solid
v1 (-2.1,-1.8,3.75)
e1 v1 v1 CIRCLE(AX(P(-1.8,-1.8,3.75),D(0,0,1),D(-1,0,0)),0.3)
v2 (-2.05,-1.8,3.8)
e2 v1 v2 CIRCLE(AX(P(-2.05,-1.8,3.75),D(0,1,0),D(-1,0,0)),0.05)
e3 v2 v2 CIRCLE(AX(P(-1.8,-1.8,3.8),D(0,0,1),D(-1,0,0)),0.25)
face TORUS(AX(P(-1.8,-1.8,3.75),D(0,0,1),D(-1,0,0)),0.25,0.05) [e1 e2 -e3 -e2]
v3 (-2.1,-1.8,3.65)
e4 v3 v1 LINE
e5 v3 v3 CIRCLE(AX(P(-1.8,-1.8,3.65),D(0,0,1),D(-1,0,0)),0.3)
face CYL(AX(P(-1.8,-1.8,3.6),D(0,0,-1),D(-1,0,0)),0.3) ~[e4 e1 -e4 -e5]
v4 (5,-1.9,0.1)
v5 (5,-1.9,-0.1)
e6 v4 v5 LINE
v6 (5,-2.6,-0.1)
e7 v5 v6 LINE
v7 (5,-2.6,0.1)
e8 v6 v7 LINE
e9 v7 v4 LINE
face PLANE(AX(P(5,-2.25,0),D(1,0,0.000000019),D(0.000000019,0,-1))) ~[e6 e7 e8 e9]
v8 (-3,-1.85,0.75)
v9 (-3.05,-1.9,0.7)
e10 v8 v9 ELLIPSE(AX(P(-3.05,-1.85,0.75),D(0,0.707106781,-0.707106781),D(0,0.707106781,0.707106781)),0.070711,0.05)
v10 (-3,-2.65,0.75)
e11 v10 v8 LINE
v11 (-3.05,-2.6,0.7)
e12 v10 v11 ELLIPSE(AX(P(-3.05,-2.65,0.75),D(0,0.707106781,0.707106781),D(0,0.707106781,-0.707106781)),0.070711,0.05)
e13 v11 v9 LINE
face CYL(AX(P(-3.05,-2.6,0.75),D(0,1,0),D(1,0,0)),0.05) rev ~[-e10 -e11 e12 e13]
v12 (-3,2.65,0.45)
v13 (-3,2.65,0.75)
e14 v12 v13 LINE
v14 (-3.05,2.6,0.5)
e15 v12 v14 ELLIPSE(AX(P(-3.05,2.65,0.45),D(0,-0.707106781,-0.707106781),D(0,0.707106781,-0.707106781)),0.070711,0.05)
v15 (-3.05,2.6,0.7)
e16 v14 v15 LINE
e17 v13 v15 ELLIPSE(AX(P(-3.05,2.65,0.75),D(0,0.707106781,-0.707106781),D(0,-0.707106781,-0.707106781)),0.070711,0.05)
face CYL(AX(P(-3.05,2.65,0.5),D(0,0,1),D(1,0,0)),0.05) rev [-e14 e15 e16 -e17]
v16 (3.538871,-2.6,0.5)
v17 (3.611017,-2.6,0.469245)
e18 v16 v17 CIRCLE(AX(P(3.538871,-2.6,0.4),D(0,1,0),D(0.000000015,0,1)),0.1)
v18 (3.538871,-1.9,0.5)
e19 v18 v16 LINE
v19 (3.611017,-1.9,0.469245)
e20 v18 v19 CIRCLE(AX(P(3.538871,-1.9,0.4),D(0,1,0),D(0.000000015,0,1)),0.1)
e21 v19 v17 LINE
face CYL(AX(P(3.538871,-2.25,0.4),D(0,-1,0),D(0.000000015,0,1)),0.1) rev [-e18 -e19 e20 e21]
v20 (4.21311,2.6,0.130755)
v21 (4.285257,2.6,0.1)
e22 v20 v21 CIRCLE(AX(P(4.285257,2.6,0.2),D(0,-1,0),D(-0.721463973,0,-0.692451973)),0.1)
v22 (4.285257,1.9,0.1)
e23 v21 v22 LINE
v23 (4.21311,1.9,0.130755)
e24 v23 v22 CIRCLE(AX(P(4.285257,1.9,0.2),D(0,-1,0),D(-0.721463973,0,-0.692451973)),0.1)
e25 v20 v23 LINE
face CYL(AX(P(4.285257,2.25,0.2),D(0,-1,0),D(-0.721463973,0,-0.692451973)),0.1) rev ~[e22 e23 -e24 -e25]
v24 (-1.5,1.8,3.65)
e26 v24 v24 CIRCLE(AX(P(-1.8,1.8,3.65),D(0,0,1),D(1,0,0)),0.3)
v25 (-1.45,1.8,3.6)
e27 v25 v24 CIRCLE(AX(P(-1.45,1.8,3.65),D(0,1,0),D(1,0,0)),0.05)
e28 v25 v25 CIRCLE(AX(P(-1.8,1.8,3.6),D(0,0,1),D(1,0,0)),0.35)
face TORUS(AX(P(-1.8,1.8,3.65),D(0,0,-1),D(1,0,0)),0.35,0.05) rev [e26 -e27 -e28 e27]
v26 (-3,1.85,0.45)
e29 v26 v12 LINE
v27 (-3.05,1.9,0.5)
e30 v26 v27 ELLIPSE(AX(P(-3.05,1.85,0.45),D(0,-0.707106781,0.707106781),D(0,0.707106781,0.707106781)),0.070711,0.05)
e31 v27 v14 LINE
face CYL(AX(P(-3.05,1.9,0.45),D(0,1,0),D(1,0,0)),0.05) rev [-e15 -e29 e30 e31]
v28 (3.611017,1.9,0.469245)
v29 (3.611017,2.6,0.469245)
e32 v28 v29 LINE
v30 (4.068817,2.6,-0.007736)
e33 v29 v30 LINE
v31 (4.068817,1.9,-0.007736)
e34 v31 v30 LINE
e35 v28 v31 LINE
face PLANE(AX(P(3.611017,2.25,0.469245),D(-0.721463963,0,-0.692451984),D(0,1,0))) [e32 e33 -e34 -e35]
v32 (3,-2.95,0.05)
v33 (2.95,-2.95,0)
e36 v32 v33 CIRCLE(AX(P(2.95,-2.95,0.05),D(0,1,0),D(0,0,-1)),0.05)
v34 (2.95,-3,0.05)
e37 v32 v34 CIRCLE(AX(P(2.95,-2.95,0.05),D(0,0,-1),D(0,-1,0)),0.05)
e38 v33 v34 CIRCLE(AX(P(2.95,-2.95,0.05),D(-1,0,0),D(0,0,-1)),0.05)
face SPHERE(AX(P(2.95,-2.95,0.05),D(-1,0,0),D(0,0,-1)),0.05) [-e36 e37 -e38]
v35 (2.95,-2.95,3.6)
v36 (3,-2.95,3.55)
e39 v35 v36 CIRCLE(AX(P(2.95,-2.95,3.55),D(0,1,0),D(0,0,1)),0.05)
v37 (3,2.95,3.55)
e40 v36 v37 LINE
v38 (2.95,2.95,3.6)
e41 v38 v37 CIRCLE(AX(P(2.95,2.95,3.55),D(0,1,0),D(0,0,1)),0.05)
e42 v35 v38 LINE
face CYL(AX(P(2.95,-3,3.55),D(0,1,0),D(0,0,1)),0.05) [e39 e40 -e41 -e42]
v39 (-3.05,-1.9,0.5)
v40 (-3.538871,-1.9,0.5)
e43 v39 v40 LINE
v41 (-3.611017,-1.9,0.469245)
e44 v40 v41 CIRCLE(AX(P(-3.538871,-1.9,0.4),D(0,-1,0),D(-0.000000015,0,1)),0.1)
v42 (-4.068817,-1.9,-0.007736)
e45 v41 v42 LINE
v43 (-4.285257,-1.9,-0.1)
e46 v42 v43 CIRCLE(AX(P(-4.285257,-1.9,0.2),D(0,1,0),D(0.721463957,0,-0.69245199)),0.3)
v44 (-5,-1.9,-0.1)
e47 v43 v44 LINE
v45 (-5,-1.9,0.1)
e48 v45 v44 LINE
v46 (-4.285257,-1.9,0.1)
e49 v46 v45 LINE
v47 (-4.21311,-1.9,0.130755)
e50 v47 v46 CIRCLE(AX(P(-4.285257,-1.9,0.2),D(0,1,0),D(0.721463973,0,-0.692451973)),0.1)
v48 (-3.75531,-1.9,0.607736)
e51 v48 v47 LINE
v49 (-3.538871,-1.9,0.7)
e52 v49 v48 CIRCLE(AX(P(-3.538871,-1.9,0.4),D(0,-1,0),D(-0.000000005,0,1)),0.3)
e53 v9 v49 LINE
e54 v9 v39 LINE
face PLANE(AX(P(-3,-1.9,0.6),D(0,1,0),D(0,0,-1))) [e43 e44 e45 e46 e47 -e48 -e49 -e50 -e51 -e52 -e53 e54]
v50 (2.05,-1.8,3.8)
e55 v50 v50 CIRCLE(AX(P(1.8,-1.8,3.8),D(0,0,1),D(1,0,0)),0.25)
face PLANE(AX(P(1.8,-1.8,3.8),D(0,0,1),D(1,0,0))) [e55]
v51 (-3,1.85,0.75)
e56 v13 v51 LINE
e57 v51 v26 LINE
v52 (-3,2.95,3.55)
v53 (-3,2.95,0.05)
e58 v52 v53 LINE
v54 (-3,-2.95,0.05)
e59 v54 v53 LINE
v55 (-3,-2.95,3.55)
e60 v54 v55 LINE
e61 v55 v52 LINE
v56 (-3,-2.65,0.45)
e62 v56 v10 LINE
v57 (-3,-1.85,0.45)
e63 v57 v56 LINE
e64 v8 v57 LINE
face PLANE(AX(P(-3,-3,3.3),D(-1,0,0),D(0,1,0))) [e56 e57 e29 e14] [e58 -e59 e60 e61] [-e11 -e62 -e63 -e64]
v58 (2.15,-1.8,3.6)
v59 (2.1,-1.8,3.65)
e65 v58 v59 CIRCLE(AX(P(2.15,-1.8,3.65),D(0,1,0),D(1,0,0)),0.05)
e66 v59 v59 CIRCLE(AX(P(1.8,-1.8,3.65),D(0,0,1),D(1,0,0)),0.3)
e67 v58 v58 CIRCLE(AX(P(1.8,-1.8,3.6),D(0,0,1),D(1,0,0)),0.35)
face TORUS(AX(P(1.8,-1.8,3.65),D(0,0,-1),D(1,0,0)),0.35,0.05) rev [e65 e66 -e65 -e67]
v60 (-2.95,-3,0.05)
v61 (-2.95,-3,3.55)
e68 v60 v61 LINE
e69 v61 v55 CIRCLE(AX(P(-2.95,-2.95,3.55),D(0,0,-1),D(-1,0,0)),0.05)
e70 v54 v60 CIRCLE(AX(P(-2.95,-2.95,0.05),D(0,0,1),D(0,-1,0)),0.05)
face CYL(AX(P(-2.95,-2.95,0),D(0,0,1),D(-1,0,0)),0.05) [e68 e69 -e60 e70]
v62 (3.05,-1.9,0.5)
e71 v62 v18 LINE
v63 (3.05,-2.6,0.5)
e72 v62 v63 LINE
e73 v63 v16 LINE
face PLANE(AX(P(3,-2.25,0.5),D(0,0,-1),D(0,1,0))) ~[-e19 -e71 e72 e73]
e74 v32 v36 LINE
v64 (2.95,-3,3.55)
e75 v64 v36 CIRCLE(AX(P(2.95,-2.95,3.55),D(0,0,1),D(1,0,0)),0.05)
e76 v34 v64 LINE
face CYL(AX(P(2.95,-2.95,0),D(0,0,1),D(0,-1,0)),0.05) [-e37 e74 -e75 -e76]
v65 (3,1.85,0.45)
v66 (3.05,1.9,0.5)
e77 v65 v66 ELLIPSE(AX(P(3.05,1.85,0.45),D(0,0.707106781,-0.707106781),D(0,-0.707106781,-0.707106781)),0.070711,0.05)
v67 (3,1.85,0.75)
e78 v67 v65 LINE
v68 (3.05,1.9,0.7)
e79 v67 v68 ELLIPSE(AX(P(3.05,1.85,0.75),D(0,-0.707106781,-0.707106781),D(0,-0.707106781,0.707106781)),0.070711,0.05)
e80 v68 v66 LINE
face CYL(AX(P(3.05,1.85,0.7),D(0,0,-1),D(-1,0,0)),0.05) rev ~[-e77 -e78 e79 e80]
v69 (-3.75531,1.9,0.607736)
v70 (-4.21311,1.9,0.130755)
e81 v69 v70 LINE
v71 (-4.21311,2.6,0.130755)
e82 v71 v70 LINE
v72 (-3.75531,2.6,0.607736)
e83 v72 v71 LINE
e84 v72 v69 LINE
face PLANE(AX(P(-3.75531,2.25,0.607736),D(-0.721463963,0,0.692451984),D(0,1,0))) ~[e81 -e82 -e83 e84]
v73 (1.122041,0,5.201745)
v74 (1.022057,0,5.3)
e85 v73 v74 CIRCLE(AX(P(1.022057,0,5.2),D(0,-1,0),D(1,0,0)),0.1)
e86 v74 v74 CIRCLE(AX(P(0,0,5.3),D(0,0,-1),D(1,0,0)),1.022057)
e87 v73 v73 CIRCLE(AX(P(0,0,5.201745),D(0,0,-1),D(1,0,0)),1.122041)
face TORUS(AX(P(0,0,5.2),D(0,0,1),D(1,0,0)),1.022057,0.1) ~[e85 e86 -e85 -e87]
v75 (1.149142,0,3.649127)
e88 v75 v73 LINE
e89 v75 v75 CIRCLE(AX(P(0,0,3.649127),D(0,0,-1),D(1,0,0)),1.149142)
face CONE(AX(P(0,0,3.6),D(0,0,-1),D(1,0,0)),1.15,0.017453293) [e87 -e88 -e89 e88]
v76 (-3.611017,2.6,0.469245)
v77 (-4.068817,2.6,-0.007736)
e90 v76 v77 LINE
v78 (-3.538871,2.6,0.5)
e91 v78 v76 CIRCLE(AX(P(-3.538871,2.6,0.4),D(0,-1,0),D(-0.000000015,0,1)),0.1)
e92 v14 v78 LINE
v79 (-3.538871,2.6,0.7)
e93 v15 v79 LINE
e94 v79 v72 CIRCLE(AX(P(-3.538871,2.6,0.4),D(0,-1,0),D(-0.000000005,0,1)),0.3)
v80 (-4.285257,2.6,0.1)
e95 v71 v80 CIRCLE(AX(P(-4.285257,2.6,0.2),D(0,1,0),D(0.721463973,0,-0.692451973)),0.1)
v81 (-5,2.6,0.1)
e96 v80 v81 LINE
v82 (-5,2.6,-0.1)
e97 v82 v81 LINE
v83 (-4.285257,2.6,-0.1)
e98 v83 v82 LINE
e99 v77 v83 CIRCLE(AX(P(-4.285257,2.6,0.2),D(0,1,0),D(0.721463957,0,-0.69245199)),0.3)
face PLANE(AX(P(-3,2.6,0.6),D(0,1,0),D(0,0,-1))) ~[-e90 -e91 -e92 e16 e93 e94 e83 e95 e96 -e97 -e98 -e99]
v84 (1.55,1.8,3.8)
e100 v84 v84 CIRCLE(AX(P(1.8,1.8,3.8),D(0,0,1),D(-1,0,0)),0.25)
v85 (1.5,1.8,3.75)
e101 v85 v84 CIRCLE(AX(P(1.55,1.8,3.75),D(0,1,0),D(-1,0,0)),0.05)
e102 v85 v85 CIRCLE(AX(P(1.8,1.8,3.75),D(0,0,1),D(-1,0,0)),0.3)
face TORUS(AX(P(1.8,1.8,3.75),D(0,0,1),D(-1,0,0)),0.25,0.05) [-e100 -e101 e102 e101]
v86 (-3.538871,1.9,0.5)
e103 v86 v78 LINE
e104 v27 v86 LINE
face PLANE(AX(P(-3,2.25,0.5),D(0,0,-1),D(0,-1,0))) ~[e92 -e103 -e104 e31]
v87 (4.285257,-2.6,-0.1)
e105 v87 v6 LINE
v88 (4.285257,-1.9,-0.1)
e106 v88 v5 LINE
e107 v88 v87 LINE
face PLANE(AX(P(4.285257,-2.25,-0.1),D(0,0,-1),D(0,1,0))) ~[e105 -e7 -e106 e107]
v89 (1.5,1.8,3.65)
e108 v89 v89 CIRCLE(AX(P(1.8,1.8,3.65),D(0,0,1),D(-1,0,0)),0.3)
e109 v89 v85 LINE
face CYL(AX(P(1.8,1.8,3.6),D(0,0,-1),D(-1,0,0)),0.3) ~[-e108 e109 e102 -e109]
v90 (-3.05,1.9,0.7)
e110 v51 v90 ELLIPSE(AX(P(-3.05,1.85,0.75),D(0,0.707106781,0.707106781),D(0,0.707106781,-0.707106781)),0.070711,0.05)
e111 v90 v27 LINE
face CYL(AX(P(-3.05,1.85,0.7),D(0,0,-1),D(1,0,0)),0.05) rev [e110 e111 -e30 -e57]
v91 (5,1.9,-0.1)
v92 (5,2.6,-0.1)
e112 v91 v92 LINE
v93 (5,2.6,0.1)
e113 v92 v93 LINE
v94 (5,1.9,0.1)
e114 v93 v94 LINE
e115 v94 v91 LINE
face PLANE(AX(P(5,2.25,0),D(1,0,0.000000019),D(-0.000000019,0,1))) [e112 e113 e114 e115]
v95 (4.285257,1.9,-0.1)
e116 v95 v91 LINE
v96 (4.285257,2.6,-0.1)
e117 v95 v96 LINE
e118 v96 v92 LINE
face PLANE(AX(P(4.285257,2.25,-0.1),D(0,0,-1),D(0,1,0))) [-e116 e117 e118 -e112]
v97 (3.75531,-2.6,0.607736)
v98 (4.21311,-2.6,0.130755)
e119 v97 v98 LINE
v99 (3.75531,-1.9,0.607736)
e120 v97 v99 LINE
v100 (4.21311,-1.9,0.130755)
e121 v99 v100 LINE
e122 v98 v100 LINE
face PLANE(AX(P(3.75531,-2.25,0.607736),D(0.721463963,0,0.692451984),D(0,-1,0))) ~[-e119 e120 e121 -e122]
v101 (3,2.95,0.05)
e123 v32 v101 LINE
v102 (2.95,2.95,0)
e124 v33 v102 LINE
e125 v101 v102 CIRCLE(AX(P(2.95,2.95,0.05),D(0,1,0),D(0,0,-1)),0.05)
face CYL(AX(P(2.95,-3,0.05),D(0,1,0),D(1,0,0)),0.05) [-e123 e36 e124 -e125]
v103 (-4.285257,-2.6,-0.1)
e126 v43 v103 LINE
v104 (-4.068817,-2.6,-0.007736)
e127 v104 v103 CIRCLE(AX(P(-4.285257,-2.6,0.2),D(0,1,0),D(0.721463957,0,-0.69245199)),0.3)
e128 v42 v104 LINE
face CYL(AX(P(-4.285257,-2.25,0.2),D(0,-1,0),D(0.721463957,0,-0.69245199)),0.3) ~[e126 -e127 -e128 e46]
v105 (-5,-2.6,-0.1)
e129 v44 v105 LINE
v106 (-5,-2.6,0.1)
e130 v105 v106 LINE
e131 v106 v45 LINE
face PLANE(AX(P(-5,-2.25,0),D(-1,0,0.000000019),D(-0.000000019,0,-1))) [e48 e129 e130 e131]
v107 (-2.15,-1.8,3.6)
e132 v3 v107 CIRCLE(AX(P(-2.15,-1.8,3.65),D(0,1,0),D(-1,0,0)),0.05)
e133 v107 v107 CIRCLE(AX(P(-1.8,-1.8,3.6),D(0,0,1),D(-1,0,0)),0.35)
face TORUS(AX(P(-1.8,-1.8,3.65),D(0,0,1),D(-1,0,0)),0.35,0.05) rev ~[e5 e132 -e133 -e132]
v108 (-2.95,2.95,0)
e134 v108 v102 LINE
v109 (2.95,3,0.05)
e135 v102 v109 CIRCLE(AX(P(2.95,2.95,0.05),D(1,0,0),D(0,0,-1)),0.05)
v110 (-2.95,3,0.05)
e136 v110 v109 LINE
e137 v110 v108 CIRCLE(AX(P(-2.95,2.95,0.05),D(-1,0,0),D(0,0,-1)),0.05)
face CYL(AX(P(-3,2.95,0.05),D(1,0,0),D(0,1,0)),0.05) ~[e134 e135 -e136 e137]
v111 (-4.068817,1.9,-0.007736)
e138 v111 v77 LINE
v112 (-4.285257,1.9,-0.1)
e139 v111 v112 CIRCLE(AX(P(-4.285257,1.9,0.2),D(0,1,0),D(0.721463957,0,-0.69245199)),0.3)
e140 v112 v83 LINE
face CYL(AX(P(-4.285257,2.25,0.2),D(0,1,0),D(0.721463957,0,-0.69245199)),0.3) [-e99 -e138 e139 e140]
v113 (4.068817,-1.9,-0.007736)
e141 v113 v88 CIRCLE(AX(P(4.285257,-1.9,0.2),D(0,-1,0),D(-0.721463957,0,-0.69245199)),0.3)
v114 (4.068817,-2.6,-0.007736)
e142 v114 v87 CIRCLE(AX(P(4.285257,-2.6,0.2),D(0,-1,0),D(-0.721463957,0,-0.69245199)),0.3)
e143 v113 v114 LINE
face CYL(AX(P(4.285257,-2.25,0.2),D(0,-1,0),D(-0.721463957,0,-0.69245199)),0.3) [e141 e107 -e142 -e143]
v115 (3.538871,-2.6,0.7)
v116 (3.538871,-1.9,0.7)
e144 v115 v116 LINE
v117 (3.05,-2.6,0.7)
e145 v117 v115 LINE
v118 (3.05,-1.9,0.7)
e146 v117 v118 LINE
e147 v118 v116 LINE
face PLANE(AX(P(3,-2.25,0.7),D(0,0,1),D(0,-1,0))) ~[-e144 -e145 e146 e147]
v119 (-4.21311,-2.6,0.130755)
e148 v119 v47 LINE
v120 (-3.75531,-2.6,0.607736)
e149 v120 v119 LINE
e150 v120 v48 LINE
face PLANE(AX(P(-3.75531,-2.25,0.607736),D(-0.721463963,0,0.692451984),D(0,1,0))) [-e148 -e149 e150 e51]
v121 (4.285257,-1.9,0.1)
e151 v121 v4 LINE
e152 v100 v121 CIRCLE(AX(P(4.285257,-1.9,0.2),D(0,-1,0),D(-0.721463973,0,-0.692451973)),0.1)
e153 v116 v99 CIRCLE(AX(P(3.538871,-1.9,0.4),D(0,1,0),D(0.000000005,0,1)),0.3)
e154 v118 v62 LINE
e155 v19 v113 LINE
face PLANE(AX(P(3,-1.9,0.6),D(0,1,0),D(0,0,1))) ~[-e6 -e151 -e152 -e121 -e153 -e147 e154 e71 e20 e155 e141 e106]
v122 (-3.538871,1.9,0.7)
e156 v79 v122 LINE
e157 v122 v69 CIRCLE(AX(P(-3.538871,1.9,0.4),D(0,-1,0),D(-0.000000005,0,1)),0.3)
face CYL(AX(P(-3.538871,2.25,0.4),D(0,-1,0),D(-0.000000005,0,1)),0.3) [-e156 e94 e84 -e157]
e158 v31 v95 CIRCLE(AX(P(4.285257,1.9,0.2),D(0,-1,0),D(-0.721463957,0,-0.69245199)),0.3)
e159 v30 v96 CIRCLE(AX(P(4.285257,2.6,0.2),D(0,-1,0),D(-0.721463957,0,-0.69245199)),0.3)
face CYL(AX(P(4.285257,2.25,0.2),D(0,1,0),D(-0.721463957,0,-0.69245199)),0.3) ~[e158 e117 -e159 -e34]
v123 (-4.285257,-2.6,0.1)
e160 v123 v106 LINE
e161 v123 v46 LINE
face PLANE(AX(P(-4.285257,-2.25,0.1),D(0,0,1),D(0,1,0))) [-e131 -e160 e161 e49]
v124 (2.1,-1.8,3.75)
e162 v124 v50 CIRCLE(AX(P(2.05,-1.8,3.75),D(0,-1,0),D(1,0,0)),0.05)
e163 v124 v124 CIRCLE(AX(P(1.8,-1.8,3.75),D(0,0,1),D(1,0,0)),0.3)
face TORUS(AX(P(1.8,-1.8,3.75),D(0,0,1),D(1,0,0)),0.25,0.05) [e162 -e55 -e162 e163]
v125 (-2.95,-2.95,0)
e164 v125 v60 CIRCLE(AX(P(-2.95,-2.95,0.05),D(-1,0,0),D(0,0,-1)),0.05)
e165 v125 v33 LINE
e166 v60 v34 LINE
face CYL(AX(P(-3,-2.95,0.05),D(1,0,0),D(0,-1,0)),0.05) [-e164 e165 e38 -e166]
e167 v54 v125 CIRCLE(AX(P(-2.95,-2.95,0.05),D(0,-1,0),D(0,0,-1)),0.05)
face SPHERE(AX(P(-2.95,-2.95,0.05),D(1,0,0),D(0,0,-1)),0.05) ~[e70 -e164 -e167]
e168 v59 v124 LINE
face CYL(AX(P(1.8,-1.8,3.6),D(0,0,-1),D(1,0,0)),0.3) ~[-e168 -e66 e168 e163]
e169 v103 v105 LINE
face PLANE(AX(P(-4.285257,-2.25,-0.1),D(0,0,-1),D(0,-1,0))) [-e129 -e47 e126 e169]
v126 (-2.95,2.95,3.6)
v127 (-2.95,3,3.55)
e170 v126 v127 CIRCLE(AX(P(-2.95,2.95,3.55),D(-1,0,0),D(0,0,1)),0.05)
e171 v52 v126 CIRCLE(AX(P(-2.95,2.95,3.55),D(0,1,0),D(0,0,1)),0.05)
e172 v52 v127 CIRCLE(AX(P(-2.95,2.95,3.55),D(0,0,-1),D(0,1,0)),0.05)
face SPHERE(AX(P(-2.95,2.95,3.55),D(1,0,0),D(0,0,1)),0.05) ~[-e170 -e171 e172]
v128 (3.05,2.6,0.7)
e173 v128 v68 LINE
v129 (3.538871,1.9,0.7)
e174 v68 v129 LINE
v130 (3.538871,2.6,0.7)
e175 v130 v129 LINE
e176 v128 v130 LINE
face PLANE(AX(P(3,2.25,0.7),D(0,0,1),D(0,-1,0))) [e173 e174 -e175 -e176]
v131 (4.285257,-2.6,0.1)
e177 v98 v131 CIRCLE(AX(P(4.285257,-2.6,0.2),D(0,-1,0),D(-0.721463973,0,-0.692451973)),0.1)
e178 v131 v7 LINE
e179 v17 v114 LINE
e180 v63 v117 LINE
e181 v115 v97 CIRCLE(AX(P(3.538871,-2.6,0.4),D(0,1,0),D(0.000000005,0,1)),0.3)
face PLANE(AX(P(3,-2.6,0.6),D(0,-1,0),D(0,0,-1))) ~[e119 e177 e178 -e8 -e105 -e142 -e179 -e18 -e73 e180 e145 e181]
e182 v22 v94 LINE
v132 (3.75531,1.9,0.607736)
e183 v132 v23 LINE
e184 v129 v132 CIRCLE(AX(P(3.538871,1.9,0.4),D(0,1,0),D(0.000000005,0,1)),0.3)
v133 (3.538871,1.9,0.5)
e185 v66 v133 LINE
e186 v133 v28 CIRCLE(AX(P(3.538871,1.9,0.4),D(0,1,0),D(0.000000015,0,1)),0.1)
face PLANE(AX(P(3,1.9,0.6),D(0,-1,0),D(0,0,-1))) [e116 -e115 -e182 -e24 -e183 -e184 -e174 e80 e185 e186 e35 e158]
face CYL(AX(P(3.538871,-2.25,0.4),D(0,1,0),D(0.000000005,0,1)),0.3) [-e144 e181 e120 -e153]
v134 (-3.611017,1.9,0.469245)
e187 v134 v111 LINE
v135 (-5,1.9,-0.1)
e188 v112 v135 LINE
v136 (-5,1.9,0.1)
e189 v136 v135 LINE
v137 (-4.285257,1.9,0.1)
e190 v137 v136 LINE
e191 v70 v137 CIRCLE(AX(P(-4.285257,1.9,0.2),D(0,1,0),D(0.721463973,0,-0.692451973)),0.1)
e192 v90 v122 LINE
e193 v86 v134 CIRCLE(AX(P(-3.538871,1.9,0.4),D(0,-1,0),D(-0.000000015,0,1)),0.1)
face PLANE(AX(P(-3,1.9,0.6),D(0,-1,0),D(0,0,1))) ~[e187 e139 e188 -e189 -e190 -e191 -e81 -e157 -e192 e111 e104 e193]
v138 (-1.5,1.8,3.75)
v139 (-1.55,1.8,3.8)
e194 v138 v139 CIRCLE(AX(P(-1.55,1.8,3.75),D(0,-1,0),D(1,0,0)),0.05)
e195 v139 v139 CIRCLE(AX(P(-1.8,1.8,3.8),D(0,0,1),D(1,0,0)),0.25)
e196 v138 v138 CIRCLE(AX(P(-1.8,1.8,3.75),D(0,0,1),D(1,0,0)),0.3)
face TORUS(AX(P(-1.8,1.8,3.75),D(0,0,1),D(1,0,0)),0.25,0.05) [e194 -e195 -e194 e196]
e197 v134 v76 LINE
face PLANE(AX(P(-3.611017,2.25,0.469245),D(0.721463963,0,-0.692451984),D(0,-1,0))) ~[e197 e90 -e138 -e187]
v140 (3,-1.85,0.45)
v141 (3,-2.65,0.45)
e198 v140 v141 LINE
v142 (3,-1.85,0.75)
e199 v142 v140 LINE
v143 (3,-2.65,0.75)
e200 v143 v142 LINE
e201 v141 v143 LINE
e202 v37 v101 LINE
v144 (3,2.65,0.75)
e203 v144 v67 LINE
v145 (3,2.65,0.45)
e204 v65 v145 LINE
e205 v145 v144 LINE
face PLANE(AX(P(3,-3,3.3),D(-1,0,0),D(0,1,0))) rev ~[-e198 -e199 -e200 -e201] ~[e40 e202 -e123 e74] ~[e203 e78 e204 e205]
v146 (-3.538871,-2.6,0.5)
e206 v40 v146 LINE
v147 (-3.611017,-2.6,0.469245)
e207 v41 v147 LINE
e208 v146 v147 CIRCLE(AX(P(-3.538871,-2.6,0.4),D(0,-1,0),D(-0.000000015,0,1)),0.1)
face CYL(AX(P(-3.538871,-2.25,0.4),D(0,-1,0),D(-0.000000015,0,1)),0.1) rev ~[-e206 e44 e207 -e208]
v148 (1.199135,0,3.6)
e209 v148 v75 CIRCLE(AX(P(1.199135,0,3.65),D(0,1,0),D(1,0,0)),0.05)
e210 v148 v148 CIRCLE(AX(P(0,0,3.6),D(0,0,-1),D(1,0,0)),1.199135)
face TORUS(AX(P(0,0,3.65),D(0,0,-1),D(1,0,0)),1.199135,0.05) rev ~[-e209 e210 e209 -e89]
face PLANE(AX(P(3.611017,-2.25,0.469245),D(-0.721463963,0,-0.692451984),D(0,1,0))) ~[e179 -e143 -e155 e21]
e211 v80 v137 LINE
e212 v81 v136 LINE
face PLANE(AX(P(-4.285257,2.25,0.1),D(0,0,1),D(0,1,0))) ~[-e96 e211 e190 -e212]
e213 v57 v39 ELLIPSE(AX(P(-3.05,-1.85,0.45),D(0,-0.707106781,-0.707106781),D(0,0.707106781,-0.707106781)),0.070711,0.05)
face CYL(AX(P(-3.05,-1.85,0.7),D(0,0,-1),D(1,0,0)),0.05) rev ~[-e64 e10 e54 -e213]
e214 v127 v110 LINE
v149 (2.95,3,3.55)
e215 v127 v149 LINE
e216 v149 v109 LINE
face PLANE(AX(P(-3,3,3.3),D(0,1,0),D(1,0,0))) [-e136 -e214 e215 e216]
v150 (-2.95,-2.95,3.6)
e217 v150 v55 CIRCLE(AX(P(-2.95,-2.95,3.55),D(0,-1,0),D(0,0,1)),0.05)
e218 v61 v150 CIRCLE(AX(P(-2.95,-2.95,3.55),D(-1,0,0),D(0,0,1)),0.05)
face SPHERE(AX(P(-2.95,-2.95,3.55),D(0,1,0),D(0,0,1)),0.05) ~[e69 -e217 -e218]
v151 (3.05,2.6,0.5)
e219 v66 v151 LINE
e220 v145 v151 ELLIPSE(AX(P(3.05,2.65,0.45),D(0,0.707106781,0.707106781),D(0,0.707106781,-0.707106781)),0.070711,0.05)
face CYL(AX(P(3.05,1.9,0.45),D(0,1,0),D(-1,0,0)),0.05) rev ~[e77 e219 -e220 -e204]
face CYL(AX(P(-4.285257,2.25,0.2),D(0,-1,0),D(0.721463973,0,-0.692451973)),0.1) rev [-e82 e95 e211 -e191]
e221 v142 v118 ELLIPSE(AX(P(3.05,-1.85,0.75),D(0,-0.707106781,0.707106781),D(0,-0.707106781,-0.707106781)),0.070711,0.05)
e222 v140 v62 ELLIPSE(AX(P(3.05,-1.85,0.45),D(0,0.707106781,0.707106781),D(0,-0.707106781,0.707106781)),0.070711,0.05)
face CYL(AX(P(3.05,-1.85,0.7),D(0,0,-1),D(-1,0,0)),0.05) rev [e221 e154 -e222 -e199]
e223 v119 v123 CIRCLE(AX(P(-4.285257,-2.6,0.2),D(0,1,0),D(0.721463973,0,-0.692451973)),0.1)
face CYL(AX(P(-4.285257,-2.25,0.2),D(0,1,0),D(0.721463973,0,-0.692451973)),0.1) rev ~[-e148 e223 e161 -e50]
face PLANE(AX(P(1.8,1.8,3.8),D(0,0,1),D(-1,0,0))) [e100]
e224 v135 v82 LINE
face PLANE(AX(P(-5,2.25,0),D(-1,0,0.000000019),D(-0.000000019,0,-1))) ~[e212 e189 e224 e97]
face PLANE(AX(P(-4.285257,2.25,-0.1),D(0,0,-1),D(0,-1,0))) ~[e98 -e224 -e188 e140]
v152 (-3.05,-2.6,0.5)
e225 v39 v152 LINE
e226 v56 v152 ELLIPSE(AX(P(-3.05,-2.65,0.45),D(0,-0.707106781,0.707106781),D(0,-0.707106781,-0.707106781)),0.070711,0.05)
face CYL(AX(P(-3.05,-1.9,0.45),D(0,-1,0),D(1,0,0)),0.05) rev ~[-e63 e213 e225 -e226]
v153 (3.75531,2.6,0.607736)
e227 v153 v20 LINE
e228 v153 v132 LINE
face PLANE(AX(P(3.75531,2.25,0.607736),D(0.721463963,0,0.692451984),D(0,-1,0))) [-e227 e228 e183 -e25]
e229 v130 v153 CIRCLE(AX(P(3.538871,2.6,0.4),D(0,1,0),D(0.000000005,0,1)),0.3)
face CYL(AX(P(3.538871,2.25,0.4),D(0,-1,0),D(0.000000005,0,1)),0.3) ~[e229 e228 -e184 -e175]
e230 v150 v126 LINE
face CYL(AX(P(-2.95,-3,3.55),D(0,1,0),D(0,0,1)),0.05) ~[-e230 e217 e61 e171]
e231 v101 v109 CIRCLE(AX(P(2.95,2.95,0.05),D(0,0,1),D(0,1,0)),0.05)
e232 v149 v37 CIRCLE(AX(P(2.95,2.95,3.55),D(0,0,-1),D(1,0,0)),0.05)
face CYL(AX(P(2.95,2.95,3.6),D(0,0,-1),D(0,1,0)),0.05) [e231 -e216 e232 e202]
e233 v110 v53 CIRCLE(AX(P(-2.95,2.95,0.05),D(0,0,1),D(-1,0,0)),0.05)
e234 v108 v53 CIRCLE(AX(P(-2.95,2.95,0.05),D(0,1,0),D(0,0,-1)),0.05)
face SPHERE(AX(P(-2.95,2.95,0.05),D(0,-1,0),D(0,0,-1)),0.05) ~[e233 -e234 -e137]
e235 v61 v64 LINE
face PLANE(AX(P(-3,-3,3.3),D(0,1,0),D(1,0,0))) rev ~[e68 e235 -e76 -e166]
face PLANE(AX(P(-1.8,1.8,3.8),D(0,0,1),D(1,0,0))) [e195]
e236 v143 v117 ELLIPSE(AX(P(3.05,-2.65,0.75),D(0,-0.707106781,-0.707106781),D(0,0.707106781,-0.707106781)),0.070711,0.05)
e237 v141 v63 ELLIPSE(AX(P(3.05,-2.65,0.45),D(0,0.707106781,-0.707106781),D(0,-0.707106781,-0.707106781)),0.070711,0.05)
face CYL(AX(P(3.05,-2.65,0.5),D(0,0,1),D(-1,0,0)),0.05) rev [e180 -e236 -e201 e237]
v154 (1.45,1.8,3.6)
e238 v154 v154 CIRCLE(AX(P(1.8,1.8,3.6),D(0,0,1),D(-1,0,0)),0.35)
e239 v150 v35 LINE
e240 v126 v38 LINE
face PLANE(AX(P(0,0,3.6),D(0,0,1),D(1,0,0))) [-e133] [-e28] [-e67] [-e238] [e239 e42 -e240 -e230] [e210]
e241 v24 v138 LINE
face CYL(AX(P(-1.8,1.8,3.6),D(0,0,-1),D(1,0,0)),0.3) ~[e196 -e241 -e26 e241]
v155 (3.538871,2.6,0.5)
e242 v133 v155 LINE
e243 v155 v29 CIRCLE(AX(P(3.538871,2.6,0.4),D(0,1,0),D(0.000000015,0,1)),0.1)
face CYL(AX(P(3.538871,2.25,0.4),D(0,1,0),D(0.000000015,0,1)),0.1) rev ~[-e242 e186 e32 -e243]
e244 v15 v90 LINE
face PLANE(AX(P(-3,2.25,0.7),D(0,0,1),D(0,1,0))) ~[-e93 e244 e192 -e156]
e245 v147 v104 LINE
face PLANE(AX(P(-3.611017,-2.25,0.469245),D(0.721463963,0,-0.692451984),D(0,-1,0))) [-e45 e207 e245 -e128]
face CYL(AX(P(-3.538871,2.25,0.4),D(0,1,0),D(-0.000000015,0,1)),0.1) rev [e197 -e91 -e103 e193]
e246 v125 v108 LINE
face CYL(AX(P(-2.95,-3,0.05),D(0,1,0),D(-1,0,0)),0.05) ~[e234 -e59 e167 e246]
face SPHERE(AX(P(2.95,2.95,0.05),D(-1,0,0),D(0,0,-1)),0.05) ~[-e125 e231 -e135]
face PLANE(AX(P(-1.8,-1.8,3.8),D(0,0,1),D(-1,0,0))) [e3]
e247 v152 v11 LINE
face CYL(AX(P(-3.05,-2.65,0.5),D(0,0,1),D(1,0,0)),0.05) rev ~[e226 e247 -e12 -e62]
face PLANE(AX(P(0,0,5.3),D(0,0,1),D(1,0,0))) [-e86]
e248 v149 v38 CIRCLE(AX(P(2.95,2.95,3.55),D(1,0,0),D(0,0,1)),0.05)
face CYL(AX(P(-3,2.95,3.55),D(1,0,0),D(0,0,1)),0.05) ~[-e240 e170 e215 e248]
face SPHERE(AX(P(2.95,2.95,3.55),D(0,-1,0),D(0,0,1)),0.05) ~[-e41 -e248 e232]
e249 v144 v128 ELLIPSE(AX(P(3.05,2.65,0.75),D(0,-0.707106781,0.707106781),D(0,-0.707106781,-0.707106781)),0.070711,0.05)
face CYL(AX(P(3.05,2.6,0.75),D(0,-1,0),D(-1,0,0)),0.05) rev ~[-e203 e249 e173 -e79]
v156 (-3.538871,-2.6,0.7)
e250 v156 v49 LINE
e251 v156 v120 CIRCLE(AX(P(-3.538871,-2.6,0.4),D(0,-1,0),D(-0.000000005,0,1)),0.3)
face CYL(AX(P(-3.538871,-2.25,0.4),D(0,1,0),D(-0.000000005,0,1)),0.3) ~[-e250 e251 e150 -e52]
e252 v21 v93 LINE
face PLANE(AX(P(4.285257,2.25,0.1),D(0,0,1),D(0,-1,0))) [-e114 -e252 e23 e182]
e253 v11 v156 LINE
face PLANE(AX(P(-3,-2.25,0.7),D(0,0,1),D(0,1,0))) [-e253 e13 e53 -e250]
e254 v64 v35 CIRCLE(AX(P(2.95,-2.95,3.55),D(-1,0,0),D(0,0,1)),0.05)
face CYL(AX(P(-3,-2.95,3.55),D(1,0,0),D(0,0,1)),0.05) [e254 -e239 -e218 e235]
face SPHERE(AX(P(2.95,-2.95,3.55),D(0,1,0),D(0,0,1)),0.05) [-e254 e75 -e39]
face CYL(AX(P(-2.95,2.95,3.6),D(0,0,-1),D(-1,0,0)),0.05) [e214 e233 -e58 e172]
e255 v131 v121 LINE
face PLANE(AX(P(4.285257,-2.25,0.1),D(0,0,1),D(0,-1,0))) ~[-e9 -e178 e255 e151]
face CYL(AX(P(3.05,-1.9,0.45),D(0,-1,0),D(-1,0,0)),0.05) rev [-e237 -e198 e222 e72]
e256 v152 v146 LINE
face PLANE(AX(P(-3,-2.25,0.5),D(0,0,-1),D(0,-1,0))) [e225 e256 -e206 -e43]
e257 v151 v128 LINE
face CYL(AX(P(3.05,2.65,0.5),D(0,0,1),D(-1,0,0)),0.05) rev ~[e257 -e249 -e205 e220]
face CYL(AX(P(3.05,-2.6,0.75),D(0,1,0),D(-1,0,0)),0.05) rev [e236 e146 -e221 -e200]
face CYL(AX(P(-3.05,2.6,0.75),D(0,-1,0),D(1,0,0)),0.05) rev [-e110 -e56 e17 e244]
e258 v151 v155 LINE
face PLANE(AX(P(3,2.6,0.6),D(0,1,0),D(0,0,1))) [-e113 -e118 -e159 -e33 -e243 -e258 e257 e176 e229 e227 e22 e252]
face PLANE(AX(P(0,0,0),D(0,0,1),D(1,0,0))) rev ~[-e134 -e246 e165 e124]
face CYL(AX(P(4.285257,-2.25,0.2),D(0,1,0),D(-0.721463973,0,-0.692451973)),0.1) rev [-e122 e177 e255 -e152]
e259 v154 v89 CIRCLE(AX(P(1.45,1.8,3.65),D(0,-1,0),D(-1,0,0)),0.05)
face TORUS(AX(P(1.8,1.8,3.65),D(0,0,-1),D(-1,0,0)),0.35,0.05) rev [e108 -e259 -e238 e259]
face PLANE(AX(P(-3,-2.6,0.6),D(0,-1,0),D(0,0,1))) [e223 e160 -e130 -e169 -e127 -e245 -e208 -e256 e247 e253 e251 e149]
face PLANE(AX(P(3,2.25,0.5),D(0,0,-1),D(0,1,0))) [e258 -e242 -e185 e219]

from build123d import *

# Parameters (mm, degrees)
SKETCH1_W               = 6
SKETCH1_H               = 6
BOSS_EXTRUDE1_DEPTH     = 3.3
SKETCH2_W               = 6
SKETCH2_H               = 6
BOSS_EXTRUDE2_DEPTH     = 0.3
SKETCH3_R               = 0.3
BOSS_EXTRUDE3_DEPTH     = 0.2
SKETCH4_R               = 1.15
BOSS_EXTRUDE4_DEPTH     = 1.7
BOSS_EXTRUDE4_TAPER     = 1
SKETCH6_W               = 0.2
SKETCH6_H               = 0.7
MIRROR2_COPY_1_SKETCH_W = 0.2
MIRROR2_COPY_1_SKETCH_H = 0.7
FILLET1_R               = 0.1
FILLET2_R               = 0.05
FILLET3_R               = 0.05


with BuildPart() as part:
    # Sketch1 → Boss-Extrude1 (new body)
    with BuildSketch(Plane.XY):
        Rectangle(SKETCH1_W, SKETCH1_H)
    extrude(amount=BOSS_EXTRUDE1_DEPTH)

    # Sketch2 → Boss-Extrude2 (add)
    with BuildSketch(Plane.XY.offset(3.3)):
        Rectangle(SKETCH2_W, SKETCH2_H)
    extrude(amount=BOSS_EXTRUDE2_DEPTH)

    # Sketch3 → Boss-Extrude3 (add)
    with BuildSketch(Plane.XY.offset(3.6)):
        with Locations((-1.8, 1.8)):
            Circle(SKETCH3_R)
        with Locations(Location((1.8, 1.8, 0), (0, 0, 180))):
            Circle(SKETCH3_R)
        with Locations((1.8, -1.8)):
            Circle(SKETCH3_R)
        with Locations(Location((-1.8, -1.8, 0), (0, 0, 180))):
            Circle(SKETCH3_R)
    extrude(amount=BOSS_EXTRUDE3_DEPTH)

    # Sketch4 → Boss-Extrude4 (add)
    with BuildSketch(Plane.XY.offset(3.6)):
        Circle(SKETCH4_R)
    extrude(amount=BOSS_EXTRUDE4_DEPTH, taper=BOSS_EXTRUDE4_TAPER)

    # Sweep4: sweep along a path in Sketch5
    with BuildLine(Plane(origin=(0, 0, 0), x_dir=(1, 0, 0), z_dir=(0, 1, 0))) as sweep4_path:
        Line((3, -0.6), (3.538870936, -0.6))
        ThreePointArc((3.538870936, -0.6), (3.617298994, -0.583981085), (3.683163729, -0.538490397))
        Line((3.683163729, -0.538490397), (4.140963861, -0.061509603))
        ThreePointArc((4.140963861, -0.061509603), (4.206828595, -0.016018915), (4.285256654, 0))
        Line((4.285256654, 0), (5, 0))
    # Sketch6 → Sweep4 (sweep)
    with BuildSketch(Plane(origin=(3, 0, 0), x_dir=(0, 0, -1), z_dir=(1, 0, 0))):
        with Locations((-0.6, 2.25)):
            Rectangle(SKETCH6_W, SKETCH6_H)
    sweep4 = sweep(path=sweep4_path.line)

    # Mirror1: Sweep4 across plane
    add(sweep4.mirror(Plane.ZX))

    # Mirror2: Sweep4 across plane
    add(sweep4.mirror(Plane(origin=(0, 0, 0), x_dir=(0, 0, 1), z_dir=(1, 0, 0))))

    # Mirror2 copy 1: sweep along a path in Mirror2 copy 1 path
    with BuildLine(Plane(origin=(0, 0, 0), x_dir=(-1, 0, 0), z_dir=(0, -1, 0))) as mirror2_copy_1_path:
        Line((3, -0.6), (3.538870936, -0.6))
        ThreePointArc((3.538870936, -0.6), (3.617298994, -0.583981085), (3.683163729, -0.538490397))
        Line((3.683163729, -0.538490397), (4.140963861, -0.061509603))
        ThreePointArc((4.140963861, -0.061509603), (4.206828595, -0.016018915), (4.285256654, 0))
        Line((4.285256654, 0), (5, 0))
    # Mirror2 copy 1 sketch → Mirror2 copy 1 (sweep)
    with BuildSketch(Plane(origin=(-3, 0, 0), x_dir=(0, 0, -1), z_dir=(-1, 0, 0))):
        with Locations((-0.6, 2.25)):
            Rectangle(MIRROR2_COPY_1_SKETCH_W, MIRROR2_COPY_1_SKETCH_H)
    sweep(path=mirror2_copy_1_path.line)

    # Fillet1
    fillet1_edges = [part.edges().sort_by_distance(p)[0] for p in [
        (-1.12032639, 0, 5.3),
    ]]
    fillet(fillet1_edges, radius=FILLET1_R)

    # Fillet2
    fillet2_edges = [part.edges().sort_by_distance(p)[0] for p in [
        (-2.1, 1.8, 3.8),
        (2.1, 1.8, 3.8),
        (1.5, -1.8, 3.8),
        (-1.5, -1.8, 3.8),
    ]]
    fillet(fillet2_edges, radius=FILLET2_R)

    # Fillet3
    fillet3_edges = [part.edges().sort_by_distance(p)[0] for p in [
        (-3, 2.25, 0.5),
        (-3, 1.9, 0.6),
        (-3, 2.25, 0.7),
        (-3, 2.6, 0.6),
        (-3, -2.25, 0.7),
        (-3, -1.9, 0.6),
        (-3, -2.25, 0.5),
        (-3, -2.6, 0.6),
        (3, 0, 3.6),
        (0, 3, 3.6),
        (-3, 0, 3.6),
        (0, -3, 3.6),
        (-2.1, 1.8, 3.6),
        (2.1, 1.8, 3.6),
        (1.5, -1.8, 3.6),
        (-1.5, -1.8, 3.6),
        (-1.15, 0, 3.6),
        (3, 2.25, 0.7),
        (3, 1.9, 0.6),
        (3, 2.25, 0.5),
        (3, 2.6, 0.6),
        (0, -3, 0),
        (-3, 0, 0),
        (0, 3, 0),
        (3, 0, 0),
        (3, -3, 1.8),
        (3, -2.25, 0.5),
        (3, -1.9, 0.6),
        (3, -2.25, 0.7),
        (3, -2.6, 0.6),
        (-3, -3, 1.8),
        (-3, 3, 1.8),
        (3, 3, 1.8),
    ]]
    fillet(fillet3_edges, radius=FILLET3_R)


solid = part.part
